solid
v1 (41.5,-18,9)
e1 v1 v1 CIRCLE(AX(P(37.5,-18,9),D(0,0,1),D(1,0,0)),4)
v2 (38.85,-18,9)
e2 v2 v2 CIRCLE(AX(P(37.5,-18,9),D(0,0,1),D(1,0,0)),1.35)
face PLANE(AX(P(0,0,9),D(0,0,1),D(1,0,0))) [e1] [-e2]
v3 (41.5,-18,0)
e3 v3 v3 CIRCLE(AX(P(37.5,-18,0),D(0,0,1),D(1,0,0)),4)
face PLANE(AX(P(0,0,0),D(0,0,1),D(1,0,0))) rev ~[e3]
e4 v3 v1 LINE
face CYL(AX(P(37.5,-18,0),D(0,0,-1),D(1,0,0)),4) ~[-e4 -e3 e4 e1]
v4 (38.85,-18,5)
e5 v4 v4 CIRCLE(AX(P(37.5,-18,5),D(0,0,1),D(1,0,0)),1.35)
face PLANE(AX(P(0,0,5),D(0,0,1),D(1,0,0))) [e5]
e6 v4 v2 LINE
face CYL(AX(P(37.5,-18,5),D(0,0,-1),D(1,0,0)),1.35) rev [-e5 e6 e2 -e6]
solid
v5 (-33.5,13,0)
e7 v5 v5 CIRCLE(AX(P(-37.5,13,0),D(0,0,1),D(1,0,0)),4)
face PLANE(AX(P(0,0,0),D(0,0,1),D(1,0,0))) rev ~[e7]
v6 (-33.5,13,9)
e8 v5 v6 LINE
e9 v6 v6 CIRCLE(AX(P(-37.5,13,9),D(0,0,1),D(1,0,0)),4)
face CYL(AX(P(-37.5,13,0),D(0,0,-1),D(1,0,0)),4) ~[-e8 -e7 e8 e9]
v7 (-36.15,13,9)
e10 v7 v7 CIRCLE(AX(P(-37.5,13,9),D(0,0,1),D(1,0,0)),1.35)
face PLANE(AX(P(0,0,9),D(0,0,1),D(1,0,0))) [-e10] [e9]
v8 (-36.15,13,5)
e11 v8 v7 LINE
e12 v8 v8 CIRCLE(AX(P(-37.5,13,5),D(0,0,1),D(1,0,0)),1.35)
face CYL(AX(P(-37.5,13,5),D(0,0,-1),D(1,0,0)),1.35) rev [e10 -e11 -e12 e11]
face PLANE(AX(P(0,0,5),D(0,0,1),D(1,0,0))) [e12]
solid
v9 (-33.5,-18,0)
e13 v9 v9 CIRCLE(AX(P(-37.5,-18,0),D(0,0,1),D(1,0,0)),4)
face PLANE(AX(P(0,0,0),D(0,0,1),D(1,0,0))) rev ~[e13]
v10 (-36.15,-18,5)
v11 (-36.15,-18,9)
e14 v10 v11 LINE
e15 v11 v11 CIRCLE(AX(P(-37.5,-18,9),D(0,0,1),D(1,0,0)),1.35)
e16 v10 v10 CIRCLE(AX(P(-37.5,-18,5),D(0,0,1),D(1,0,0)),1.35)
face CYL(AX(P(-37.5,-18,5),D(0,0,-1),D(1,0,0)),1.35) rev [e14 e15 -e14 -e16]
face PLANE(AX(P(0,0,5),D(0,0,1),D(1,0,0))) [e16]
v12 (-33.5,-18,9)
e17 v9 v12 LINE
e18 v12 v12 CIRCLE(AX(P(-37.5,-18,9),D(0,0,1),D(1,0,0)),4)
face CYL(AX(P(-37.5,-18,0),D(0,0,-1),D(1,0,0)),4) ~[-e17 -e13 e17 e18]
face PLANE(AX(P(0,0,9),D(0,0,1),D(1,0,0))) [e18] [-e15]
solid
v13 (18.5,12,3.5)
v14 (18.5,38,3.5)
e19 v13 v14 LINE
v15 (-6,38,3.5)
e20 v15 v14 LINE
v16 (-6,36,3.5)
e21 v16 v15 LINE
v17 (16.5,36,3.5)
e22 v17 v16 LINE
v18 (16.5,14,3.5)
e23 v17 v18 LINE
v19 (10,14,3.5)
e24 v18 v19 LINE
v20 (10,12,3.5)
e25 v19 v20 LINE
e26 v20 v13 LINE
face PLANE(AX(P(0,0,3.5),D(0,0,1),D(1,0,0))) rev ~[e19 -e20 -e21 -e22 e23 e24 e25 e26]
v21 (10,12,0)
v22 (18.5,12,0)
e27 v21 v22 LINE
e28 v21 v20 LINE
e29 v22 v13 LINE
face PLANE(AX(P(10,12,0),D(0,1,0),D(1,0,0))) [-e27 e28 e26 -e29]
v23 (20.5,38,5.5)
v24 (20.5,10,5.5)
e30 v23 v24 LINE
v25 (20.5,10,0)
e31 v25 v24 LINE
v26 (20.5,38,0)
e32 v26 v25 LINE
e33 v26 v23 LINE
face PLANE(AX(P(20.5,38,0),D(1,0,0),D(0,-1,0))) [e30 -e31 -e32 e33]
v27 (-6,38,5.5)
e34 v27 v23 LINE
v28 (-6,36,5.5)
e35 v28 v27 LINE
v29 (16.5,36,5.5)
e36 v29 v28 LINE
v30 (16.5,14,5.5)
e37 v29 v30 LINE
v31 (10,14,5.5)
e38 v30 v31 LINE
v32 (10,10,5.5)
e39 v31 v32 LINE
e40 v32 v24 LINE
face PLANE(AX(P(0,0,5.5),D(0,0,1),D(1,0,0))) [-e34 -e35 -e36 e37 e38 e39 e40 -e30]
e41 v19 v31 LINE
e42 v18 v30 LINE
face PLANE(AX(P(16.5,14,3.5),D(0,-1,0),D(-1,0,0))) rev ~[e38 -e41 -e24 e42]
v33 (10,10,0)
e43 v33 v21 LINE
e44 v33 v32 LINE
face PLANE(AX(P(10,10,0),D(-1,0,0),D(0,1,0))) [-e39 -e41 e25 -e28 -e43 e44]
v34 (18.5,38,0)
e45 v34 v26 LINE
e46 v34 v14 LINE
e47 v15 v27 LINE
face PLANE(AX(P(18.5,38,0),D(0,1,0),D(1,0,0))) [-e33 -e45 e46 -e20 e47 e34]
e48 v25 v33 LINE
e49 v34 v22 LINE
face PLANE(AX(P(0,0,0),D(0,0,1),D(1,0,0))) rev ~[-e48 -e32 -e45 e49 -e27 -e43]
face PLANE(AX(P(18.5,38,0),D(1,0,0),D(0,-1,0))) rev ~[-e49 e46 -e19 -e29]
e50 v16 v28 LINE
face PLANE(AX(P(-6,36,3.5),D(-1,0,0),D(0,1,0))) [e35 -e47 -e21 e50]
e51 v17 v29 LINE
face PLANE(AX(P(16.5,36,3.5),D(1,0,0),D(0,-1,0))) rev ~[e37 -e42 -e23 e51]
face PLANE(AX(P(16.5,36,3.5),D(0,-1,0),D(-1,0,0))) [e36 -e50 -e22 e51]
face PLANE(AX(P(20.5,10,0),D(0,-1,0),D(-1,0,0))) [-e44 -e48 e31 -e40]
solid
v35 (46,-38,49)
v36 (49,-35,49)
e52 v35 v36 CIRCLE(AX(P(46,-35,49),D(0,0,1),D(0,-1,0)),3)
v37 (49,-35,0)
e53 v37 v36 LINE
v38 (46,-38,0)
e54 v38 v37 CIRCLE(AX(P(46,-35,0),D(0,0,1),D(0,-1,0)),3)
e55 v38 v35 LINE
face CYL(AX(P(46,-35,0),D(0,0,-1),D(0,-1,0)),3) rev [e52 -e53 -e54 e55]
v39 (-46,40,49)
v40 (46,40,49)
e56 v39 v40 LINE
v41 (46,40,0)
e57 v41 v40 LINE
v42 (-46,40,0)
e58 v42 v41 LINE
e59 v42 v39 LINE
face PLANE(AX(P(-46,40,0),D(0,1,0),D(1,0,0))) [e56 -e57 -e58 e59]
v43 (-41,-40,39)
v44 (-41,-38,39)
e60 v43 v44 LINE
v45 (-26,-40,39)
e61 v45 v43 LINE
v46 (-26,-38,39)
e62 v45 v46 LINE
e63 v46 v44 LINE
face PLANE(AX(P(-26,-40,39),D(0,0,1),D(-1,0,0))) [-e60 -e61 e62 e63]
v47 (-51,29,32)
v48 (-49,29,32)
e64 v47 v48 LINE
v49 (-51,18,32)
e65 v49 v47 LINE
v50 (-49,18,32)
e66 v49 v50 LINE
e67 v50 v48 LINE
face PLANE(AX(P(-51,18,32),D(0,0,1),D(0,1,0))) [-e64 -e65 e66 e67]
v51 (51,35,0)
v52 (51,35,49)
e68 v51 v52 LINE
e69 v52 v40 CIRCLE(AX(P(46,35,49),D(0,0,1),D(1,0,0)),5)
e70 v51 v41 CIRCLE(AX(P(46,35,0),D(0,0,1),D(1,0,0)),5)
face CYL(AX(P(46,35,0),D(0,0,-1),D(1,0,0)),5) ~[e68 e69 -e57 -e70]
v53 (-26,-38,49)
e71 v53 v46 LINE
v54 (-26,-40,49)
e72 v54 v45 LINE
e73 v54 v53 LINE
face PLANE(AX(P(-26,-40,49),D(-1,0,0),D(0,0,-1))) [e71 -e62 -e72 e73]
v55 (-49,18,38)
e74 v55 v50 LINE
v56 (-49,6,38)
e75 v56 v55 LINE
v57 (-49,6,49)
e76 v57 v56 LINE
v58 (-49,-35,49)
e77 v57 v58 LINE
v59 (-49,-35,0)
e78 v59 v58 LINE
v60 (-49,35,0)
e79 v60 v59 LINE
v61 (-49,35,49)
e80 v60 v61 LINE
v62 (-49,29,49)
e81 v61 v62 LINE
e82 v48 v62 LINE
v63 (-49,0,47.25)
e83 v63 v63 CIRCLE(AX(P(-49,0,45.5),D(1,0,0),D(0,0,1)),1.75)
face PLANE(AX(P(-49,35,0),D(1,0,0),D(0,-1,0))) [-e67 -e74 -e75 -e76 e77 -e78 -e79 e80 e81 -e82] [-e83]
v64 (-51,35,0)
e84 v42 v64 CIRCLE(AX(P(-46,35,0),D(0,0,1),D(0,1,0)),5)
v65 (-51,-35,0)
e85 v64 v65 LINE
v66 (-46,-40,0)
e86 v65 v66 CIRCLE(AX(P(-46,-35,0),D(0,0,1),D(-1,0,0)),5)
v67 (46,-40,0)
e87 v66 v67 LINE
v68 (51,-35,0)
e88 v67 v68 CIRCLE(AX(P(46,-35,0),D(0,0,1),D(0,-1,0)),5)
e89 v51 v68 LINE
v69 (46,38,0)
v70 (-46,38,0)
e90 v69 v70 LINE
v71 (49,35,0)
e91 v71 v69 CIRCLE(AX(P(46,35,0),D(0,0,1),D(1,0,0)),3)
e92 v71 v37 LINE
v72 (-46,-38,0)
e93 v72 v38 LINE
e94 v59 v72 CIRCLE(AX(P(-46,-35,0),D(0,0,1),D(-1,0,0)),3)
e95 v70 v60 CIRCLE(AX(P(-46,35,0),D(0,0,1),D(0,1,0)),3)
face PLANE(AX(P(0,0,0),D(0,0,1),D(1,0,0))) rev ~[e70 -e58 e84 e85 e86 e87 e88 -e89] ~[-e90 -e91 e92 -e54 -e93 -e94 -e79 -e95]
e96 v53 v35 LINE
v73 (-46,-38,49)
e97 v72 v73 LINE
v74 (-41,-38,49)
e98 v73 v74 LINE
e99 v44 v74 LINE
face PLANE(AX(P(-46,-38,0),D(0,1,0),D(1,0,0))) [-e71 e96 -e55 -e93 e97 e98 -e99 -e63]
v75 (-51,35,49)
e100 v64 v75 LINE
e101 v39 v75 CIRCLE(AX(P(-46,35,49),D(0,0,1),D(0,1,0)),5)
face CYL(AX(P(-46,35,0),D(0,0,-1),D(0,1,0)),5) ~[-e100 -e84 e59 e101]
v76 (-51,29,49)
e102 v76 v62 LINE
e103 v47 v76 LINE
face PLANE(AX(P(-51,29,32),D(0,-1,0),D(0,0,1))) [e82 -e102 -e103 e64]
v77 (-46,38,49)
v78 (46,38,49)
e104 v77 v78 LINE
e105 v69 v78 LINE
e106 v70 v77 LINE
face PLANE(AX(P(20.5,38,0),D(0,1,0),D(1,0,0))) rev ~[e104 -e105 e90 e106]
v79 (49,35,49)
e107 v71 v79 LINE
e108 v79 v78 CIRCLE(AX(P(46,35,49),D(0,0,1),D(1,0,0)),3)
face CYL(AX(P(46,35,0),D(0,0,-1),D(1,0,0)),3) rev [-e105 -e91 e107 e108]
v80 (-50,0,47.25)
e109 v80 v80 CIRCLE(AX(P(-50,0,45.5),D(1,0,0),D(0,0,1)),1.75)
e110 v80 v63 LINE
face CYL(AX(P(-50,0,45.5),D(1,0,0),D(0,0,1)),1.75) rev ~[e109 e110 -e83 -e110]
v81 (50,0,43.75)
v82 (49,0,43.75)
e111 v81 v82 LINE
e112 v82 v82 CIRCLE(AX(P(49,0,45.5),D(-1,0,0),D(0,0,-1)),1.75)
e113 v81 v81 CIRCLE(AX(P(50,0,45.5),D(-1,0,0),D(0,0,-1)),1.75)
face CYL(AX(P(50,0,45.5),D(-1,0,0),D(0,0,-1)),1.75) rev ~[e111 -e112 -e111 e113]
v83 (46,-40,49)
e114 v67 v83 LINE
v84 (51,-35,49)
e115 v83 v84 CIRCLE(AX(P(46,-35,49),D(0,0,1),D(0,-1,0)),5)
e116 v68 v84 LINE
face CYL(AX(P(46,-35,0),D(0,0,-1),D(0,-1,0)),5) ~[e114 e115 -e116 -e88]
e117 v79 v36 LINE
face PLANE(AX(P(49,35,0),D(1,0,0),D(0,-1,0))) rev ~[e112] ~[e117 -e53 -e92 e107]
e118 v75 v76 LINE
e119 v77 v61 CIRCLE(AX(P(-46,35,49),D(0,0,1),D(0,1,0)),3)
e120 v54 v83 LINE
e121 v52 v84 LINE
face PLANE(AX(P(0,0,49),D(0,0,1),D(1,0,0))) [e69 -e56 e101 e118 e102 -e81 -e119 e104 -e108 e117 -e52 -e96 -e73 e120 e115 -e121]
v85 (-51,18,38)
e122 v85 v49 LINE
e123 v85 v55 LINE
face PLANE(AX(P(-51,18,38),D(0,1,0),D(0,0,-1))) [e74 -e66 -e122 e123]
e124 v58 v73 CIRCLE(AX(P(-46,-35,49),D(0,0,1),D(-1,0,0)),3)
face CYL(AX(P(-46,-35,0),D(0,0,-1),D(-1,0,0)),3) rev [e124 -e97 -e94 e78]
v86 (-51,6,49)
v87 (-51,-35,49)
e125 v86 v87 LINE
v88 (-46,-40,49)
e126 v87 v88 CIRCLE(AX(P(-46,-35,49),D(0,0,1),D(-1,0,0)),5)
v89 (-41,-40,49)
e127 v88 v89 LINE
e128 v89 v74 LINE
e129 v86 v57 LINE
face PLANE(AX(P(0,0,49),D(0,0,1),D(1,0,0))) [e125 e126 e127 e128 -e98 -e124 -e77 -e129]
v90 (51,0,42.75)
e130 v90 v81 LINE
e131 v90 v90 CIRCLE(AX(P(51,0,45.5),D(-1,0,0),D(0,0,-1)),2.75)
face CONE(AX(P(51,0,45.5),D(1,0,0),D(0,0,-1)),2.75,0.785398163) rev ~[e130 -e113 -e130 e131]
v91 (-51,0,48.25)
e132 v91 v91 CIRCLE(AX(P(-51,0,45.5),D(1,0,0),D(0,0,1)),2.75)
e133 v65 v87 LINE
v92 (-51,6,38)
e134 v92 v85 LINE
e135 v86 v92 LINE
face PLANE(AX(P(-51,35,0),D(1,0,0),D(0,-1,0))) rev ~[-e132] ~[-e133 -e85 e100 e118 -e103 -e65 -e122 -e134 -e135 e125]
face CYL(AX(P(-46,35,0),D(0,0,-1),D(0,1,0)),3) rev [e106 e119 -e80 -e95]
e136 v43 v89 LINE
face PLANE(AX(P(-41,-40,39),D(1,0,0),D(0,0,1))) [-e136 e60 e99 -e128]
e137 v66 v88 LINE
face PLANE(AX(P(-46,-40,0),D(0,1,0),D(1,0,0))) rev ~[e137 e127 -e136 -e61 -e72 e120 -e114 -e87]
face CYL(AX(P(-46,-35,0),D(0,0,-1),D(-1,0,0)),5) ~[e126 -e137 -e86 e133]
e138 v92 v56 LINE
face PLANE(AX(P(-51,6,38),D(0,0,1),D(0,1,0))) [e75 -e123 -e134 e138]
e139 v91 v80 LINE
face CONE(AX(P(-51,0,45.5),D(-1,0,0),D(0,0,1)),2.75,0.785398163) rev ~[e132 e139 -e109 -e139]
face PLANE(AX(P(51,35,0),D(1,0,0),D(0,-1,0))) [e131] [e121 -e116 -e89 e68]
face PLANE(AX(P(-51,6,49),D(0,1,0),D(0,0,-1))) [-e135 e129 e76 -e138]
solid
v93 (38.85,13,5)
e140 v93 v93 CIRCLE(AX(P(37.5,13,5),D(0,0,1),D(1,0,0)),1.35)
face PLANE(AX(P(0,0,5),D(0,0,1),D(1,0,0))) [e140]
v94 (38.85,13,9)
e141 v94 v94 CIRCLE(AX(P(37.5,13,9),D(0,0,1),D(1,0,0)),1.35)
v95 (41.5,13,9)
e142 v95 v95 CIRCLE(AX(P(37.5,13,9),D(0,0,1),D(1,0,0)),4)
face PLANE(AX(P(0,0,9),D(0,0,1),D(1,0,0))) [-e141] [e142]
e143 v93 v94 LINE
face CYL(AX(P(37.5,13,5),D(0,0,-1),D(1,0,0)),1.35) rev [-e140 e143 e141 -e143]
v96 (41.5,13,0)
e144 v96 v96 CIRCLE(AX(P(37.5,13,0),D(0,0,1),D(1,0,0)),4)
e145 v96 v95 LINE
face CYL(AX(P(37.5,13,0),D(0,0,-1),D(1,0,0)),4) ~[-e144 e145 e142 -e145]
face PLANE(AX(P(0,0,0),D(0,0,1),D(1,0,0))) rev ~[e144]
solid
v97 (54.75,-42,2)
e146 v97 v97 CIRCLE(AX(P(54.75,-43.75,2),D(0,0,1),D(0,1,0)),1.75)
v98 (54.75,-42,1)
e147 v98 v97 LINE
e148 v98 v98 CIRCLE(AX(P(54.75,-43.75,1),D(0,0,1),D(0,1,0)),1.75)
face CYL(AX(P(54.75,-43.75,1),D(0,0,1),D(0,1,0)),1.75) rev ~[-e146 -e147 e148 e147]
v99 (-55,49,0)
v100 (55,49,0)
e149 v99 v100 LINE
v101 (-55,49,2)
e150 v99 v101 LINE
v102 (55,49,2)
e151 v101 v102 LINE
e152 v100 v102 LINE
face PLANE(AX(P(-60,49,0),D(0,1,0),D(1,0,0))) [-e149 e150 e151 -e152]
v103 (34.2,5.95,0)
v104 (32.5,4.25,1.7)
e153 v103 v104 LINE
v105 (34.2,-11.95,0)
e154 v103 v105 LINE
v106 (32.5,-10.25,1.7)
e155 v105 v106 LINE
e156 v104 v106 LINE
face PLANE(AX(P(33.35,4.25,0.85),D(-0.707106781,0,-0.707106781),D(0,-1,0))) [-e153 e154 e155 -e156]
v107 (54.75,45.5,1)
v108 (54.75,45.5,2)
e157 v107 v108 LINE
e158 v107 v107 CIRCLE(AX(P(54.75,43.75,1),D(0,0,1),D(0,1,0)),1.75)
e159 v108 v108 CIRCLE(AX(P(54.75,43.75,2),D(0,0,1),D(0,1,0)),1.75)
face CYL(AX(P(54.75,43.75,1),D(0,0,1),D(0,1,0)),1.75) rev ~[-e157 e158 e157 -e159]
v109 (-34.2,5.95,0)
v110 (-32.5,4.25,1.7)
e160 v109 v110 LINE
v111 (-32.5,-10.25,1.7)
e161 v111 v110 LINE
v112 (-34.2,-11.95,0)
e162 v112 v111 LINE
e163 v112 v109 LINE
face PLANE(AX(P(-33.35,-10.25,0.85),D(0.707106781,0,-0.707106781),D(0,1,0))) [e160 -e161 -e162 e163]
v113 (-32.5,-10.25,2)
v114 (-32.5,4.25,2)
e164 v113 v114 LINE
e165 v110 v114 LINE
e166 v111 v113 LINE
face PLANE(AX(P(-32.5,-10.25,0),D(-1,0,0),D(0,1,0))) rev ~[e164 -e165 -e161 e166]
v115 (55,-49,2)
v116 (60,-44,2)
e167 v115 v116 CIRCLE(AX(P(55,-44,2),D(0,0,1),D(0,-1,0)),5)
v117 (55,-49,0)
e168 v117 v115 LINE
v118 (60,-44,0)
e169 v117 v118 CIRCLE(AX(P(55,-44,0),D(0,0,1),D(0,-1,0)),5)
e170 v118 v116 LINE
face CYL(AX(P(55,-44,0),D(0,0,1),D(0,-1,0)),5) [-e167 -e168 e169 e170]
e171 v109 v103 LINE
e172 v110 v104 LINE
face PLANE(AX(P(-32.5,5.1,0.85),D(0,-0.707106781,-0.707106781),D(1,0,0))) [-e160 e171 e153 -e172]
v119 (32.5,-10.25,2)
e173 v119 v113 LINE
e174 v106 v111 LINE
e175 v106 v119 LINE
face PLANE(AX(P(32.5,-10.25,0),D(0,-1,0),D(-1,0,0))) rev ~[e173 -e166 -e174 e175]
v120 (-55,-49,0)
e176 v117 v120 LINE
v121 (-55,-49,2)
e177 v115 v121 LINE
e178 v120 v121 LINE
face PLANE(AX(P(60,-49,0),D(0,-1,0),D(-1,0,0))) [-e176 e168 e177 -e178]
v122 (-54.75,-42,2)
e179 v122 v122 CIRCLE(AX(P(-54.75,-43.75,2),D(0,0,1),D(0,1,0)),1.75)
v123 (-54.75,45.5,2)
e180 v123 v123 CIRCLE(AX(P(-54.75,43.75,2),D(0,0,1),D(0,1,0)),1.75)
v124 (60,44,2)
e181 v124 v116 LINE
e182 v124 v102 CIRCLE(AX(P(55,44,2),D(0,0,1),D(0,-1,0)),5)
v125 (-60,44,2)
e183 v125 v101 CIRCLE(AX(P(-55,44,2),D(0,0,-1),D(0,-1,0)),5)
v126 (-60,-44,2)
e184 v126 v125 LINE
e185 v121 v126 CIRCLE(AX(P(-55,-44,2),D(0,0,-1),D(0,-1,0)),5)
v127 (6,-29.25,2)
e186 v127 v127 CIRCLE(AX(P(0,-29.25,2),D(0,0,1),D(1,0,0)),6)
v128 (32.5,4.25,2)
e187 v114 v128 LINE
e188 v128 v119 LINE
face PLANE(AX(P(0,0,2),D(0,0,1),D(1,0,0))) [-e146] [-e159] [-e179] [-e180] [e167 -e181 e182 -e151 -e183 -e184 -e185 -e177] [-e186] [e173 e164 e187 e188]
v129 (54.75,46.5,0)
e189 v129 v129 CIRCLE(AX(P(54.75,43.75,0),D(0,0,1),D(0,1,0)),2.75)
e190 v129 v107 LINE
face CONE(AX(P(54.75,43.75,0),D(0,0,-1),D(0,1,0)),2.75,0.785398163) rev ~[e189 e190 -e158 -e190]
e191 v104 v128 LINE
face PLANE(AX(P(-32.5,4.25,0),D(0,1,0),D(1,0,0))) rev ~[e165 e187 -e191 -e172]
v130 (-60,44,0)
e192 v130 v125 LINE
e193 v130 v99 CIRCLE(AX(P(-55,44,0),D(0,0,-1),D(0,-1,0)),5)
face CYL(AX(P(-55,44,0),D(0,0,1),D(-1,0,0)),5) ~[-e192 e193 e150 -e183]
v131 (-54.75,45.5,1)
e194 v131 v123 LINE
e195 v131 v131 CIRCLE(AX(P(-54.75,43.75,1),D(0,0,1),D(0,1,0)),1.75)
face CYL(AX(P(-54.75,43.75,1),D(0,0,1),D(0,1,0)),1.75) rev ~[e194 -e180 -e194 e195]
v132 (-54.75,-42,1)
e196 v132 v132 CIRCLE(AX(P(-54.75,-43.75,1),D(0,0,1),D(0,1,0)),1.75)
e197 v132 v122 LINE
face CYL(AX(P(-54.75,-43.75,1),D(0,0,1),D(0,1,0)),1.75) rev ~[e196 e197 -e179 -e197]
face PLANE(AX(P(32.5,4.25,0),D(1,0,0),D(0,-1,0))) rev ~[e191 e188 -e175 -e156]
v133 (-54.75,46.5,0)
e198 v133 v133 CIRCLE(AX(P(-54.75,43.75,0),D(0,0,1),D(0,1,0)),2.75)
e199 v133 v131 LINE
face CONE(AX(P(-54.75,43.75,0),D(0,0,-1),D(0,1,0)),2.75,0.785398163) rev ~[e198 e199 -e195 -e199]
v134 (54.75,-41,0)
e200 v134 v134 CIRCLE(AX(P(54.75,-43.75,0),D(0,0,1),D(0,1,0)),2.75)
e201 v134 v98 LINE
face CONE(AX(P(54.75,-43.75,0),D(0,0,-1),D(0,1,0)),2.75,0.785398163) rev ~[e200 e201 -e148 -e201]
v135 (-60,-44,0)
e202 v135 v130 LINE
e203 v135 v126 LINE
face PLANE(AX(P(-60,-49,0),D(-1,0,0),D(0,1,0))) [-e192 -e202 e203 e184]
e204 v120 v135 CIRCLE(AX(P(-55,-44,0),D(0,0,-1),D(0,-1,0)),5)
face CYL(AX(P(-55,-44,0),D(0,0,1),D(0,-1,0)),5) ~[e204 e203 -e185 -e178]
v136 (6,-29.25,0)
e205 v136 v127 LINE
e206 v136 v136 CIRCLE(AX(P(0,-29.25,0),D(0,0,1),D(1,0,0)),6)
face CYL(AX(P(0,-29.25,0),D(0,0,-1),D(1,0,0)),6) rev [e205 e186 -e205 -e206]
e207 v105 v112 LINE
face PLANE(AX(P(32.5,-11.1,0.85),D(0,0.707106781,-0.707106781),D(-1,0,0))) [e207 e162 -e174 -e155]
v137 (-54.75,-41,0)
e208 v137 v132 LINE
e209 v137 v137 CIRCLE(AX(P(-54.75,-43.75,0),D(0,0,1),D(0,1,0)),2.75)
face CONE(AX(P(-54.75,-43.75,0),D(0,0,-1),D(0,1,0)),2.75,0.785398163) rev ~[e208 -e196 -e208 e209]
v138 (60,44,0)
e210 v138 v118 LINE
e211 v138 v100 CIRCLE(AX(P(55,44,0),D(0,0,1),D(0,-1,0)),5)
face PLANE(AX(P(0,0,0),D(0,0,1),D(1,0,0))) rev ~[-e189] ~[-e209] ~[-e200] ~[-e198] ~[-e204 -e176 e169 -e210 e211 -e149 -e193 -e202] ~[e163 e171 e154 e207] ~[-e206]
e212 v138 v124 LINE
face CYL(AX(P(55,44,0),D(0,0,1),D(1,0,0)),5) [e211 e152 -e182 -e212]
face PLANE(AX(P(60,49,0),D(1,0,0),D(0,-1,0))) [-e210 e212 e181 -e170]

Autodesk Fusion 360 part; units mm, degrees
sketch "Sketch1" plane through (0, 0, 0) normal (0, 0, 1) x (1, 0, 0)
  line L0 (60, -49) -> (-60, -49)
  line L1 (-60, -49) -> (-60, 49)
  line L2 (-60, 49) -> (60, 49)
  line L3 (60, 49) -> (60, -49)
  line L4 (60, -49) -> (-60, 49) construction
  line L5 (-60, -49) -> (60, 49) construction
  line L6 (-46, 38) -> (46, 38)
  line L7 (-49, 35) -> (-49, -35)
  arc A0 (-46, 38) -> (-49, 35) centre (-46, 35) ccw
  line L8 (-46, -38) -> (46, -38)
  arc A1 (-49, -35) -> (-46, -38) centre (-46, -35) ccw
  line L9 (49, 35) -> (49, -35)
  arc A2 (49, 35) -> (46, 38) centre (46, 35) ccw
  arc A3 (46, -38) -> (49, -35) centre (46, -35) ccw
  line L10 (-46, -40) -> (46, -40)
  arc A4 (46, -40) -> (51, -35) centre (46, -35) ccw
  line L11 (51, 35) -> (51, -35)
  arc A5 (51, 35) -> (46, 40) centre (46, 35) ccw
  line L12 (-46, 40) -> (46, 40)
  arc A6 (-46, 40) -> (-51, 35) centre (-46, 35) ccw
  line L13 (-51, 35) -> (-51, -35)
  arc A7 (-51, -35) -> (-46, -40) centre (-46, -35) ccw
  line L14 (10, 38) -> (10, 8) construction
  line L15 (-6, 38) -> (18.5, 38)
  line L16 (18.5, 38) -> (18.5, 36)
  line L17 (16.5, 36) -> (-6, 36)
  line L18 (-6, 36) -> (-6, 38)
  line L19 (18.5, 38) -> (20.5, 38)
  line L20 (20.5, 38) -> (20.5, 10)
  line L21 (20.5, 10) -> (18.5, 10)
  line L22 (18.5, 12) -> (18.5, 38)
  line L23 (18.5, 10) -> (10, 10)
  line L24 (10, 10) -> (10, 12)
  line L25 (10, 12) -> (18.5, 12)
  line L26 (10, 12) -> (18.5, 12)
  line L27 (16.5, 14) -> (10, 14)
  line L28 (10, 14) -> (10, 12)
  line L29 (16.5, 36) -> (16.5, 14)
  line L30 (18.5, 12) -> (18.5, 36)
  line L31 (-40, 15.5) -> (40, 15.5) construction
  line L32 (40, 15.5) -> (40, -20.5) construction
  line L33 (40, -20.5) -> (-40, -20.5) construction
  line L34 (-40, -20.5) -> (-40, 15.5) construction
  circle A8 centre (-54.75, 43.75) radius 1.75
  line L35 (0, 0) -> (-60, 0) construction
  line L36 (0, 0) -> (0, 49) construction
  circle A9 centre (-54.75, -43.75) radius 1.75
  circle A10 centre (54.75, 43.75) radius 1.75
  circle A11 centre (54.75, -43.75) radius 1.75
  line L37 (-32.5, 4.25) -> (32.5, 4.25)
  line L38 (32.5, 4.25) -> (32.5, -10.25)
  line L39 (32.5, -10.25) -> (-32.5, -10.25)
  line L40 (-32.5, -10.25) -> (-32.5, 4.25)
  line L41 (0, 0) -> (0, -49) construction
  circle A12 centre (0, -29.25) radius 6
  circle A13 centre (-37.5, 13) radius 1.35
  circle A14 centre (-37.5, 13) radius 4
  line L42 (-40, -2.5) -> (40, -2.5) construction
  circle A15 centre (-37.5, -18) radius 1.35
  circle A16 centre (-37.5, -18) radius 4
  circle A17 centre (37.5, 13) radius 1.35
  circle A18 centre (37.5, 13) radius 4
  circle A19 centre (37.5, -18) radius 1.35
  circle A20 centre (37.5, -18) radius 4
  dimension "d1" = 120
  dimension "d2" = 98
  dimension "d7" = 92
  dimension "d9" = 70
  dimension "d11" = 14
  dimension "d12" = 11
  dimension "d13" = 3
  dimension "d14" = 3
  dimension "d15" = 92
  dimension "d16" = 3
  dimension "d17" = 3
  dimension "d18" = 70
  dimension "d19" = 3
  dimension "d20" = 3
  dimension "d21" = 2
  dimension "d22" = 30
  dimension "d23" = 39
  dimension "d24" = 24.5
  dimension "d25" = 2
  dimension "d26" = 43
  dimension "d27" = 2
  dimension "d28" = 28
  dimension "d29" = 2
  dimension "d30" = 2
  dimension "d31" = 2
  dimension "d32" = 80
  dimension "d33" = 36
  dimension "d34" = 9
  dimension "d35" = 22.5
  dimension "d36" = 3.5
  dimension "d37" = 5.25
  dimension "d38" = 5.25
  dimension "d39" = 65
  dimension "d40" = 14.5
  dimension "d41" = 11.25
  dimension "d42" = 7.5
  dimension "d43" = 12
  dimension "d44" = 8.75
  dimension "d47" = 2.7
  dimension "d48" = 2.5
  dimension "d49" = 2.5
  dimension "d50" = 8
  dimension "d101" = 8.5
extrude "Extrude1" add sketch "Sketch1" along normal blind 2 contours L0 L1 L2 L3 | L6 L7 A0 L8 A1 L9 A2 A3 L17 L18 L20 L21 L23 L24 L27 L28 L29 | L6 L15 L16 L17 L18 L22 L25 L26 L27 L28 L29 L30 | L6 L16 L19 L20 L21 L22 L23 L24 L25 L26 L30 | L10 A4 L11 A5 L12 A6 L13 A7 | A8 | A9 | A10 | A11 | A13 | A14 | A15 | A16 | A17 | A18 | A19 | A20 makes body 1
extrude "Extrude2" add sketch "Sketch1" along normal blind 5.5 separate body contours L6 L16 L19 L20 L21 L22 L23 L24 L25 L26 L30 makes body 2
extrude "Extrude3" add sketch "Sketch1" along normal blind 2 from surface at 3.5 contours L6 L15 L16 L17 L18 L22 L25 L26 L27 L28 L29 L30 bodies 2
extrude "Extrude4" add sketch "Sketch1" along normal blind 9 separate body contours A13 | A14 | A15 | A16 | A17 | A18 | A19 | A20 makes body 3 at (-33.505, -18.1994, 6) makes body 4 at (41.495, 12.8006, 6) makes body 5 at (-33.505, 12.8006, 6) makes body 6 at (41.495, -18.1994, 6)
extrude "Extrude5" cut sketch "Sketch1" along normal blind 4 from surface at 5 contours A13 | A15 | A17 | A19 bodies 3 4 5 6
extrude "Extrude6" add sketch "Sketch1" along normal blind 49 separate body contours L10 A4 L11 A5 L12 A6 L13 A7 makes body 7
fillet "Fillet1" radius 5 4 edges at (-60, -49, 1) (60, -49, 1) (60, 49, 1) (-60, 49, 1) on bodies 1
hole "Hole1" at (-54.75, -43.75, 0) at (-54.75, 43.75, 0) at (54.75, -43.75, 0) at (54.75, 43.75, 0) direction (0, 0, 1) diameter 3.5 depth 5 tip angle 118 countersink diameter 5.5 countersink angle 90 bodies 1
sketch "Sketch2" plane through (-51, 0, 0) normal (-1, 0, 0) x (0, -1, 0)
  line L0 (-35, 0) -> (35, 0)
  line L1 (35, 0) -> (35, 49)
  line L2 (35, 49) -> (-35, 49)
  line L3 (-35, 49) -> (-35, 0)
  line L4 (-40, 0) -> (-40, 49)
  line L5 (40, 0) -> (40, 49)
  line L6 (-29, 49) -> (-18, 49)
  line L7 (-18, 49) -> (-18, 32)
  line L8 (-18, 32) -> (-29, 32)
  line L9 (-29, 32) -> (-29, 49)
  line L10 (-18, 49) -> (-6, 49)
  line L11 (-6, 49) -> (-6, 38)
  line L12 (-6, 38) -> (-18, 38)
  line L13 (-18, 38) -> (-18, 49)
  line L14 (0, 0) -> (0, 49) construction
  circle A0 centre (0, 45.5) radius 1.75
  line L15 (35, 0) -> (-35, 0)
  line L16 (-35, 0) -> (-35, 49)
  line L17 (-35, 49) -> (35, 49)
  line L18 (35, 49) -> (35, 0)
  line L19 (0, 0) -> (0, 49) construction
  line L20 (-35, 0) -> (35, 0)
  line L21 (35, 0) -> (35, 49)
  line L22 (35, 49) -> (-35, 49)
  line L23 (-35, 49) -> (-35, 0)
  dimension "d72" = 11
  dimension "d73" = 17
  dimension "d74" = 11
  dimension "d75" = 12
  dimension "d76" = 11
  dimension "d77" = 3.5
  dimension "d78" = 3.5
extrude "Extrude7" cut sketch "Sketch2" against normal blind 2 contours L2 L6 L7 L8 L9 L13 L17 L22 | L2 L7 L10 L11 L12 L13 L17 L22 bodies 7
sketch "Sketch3" plane through (0, -40, 0) normal (0, -1, 0) x (1, 0, 0)
  line L0 (-46, 0) -> (46, 0)
  line L1 (46, 0) -> (46, 49)
  line L2 (46, 49) -> (-46, 49)
  line L3 (-46, 49) -> (-46, 0)
  line L4 (51, 0) -> (51, 49)
  line L5 (-51, 0) -> (-51, 49)
  line L6 (-41, 49) -> (-26, 49)
  line L7 (-26, 49) -> (-26, 39)
  line L8 (-26, 39) -> (-41, 39)
  line L9 (-41, 39) -> (-41, 49)
  dimension "d81" = 15
  dimension "d82" = 10
  dimension "d83" = 10
extrude "Extrude8" cut sketch "Sketch3" against normal blind 2 contours L2 L6 L7 L8 L9 bodies 7
sketch "Sketch4" plane through (51, 0, 0) normal (1, 0, 0) x (0, 1, 0)
  line L0 (-35, 0) -> (35, 0)
  line L1 (35, 0) -> (35, 49)
  line L2 (35, 49) -> (-35, 49)
  line L3 (-35, 49) -> (-35, 0)
  line L4 (0, 0) -> (0, 49) construction
  circle A0 centre (0, 45.5) radius 1.75
  dimension "d86" = 3.5
  dimension "d87" = 3.5
hole "Hole2" at (51, 0, 45.5) direction (-1, 0, 0) diameter 3.5 depth 5 tip angle 118 countersink diameter 5.5 countersink angle 90 bodies 7
hole "Hole3" at (-51, 0, 45.5) direction (1, 0, 0) diameter 3.5 depth 5 tip angle 118 countersink diameter 5.5 countersink angle 90 bodies 7
chamfer "Chamfer1" distance 1.7 angle 45 4 edges at (0, -10.25, 0) (-32.5, -3, 0) (0, 4.25, 0) (32.5, -3, 0) on bodies 1
sketch "Sketch5" plane through (0, 0, 49) normal (0, 0, 1) x (-1, 0, 0)
  line L0 (26, 38) -> (26, 40)
  line L1 (26, 40) -> (-46, 40)
  arc A0 (-46, 40) -> (-51, 35) centre (-46, 35) ccw
  line L2 (-51, 35) -> (-51, -35)
  arc A1 (-51, -35) -> (-46, -40) centre (-46, -35) ccw
  line L3 (-46, -40) -> (46, -40)
  arc A2 (46, -40) -> (51, -35) centre (46, -35) ccw
  line L4 (51, -35) -> (51, -29)
  line L5 (51, -29) -> (49, -29)
  line L6 (49, -29) -> (49, -35)
  arc A3 (46, -38) -> (49, -35) centre (46, -35) ccw
  line L7 (46, -38) -> (-46, -38)
  arc A4 (-49, -35) -> (-46, -38) centre (-46, -35) ccw
  line L8 (-49, -35) -> (-49, 35)
  arc A5 (-46, 38) -> (-49, 35) centre (-46, 35) ccw
  line L9 (-46, 38) -> (26, 38)
  line L10 (-52.5, 45) -> (52.5, 45)
  line L11 (52.5, 45) -> (52.5, -45)
  line L12 (52.5, -45) -> (-52.5, -45)
  line L13 (-52.5, -45) -> (-52.5, 45)
  line L14 (-52.5, 45) -> (52.5, -45) construction
  line L15 (52.5, 45) -> (-52.5, -45) construction
  dimension "d99" = 105
  dimension "d100" = 90
extrude "Extrude9" [suppressed]
equation "d11 = ( ( 120 - 92 ) / 2 ) * 1 mm"
equation "d28 = 25.5 mm + 2.5 mm"
equation "d35 = 27.5 mm - 5 mm"
equation "d44 = ( 17.5 / 2 ) * 1 mm"
